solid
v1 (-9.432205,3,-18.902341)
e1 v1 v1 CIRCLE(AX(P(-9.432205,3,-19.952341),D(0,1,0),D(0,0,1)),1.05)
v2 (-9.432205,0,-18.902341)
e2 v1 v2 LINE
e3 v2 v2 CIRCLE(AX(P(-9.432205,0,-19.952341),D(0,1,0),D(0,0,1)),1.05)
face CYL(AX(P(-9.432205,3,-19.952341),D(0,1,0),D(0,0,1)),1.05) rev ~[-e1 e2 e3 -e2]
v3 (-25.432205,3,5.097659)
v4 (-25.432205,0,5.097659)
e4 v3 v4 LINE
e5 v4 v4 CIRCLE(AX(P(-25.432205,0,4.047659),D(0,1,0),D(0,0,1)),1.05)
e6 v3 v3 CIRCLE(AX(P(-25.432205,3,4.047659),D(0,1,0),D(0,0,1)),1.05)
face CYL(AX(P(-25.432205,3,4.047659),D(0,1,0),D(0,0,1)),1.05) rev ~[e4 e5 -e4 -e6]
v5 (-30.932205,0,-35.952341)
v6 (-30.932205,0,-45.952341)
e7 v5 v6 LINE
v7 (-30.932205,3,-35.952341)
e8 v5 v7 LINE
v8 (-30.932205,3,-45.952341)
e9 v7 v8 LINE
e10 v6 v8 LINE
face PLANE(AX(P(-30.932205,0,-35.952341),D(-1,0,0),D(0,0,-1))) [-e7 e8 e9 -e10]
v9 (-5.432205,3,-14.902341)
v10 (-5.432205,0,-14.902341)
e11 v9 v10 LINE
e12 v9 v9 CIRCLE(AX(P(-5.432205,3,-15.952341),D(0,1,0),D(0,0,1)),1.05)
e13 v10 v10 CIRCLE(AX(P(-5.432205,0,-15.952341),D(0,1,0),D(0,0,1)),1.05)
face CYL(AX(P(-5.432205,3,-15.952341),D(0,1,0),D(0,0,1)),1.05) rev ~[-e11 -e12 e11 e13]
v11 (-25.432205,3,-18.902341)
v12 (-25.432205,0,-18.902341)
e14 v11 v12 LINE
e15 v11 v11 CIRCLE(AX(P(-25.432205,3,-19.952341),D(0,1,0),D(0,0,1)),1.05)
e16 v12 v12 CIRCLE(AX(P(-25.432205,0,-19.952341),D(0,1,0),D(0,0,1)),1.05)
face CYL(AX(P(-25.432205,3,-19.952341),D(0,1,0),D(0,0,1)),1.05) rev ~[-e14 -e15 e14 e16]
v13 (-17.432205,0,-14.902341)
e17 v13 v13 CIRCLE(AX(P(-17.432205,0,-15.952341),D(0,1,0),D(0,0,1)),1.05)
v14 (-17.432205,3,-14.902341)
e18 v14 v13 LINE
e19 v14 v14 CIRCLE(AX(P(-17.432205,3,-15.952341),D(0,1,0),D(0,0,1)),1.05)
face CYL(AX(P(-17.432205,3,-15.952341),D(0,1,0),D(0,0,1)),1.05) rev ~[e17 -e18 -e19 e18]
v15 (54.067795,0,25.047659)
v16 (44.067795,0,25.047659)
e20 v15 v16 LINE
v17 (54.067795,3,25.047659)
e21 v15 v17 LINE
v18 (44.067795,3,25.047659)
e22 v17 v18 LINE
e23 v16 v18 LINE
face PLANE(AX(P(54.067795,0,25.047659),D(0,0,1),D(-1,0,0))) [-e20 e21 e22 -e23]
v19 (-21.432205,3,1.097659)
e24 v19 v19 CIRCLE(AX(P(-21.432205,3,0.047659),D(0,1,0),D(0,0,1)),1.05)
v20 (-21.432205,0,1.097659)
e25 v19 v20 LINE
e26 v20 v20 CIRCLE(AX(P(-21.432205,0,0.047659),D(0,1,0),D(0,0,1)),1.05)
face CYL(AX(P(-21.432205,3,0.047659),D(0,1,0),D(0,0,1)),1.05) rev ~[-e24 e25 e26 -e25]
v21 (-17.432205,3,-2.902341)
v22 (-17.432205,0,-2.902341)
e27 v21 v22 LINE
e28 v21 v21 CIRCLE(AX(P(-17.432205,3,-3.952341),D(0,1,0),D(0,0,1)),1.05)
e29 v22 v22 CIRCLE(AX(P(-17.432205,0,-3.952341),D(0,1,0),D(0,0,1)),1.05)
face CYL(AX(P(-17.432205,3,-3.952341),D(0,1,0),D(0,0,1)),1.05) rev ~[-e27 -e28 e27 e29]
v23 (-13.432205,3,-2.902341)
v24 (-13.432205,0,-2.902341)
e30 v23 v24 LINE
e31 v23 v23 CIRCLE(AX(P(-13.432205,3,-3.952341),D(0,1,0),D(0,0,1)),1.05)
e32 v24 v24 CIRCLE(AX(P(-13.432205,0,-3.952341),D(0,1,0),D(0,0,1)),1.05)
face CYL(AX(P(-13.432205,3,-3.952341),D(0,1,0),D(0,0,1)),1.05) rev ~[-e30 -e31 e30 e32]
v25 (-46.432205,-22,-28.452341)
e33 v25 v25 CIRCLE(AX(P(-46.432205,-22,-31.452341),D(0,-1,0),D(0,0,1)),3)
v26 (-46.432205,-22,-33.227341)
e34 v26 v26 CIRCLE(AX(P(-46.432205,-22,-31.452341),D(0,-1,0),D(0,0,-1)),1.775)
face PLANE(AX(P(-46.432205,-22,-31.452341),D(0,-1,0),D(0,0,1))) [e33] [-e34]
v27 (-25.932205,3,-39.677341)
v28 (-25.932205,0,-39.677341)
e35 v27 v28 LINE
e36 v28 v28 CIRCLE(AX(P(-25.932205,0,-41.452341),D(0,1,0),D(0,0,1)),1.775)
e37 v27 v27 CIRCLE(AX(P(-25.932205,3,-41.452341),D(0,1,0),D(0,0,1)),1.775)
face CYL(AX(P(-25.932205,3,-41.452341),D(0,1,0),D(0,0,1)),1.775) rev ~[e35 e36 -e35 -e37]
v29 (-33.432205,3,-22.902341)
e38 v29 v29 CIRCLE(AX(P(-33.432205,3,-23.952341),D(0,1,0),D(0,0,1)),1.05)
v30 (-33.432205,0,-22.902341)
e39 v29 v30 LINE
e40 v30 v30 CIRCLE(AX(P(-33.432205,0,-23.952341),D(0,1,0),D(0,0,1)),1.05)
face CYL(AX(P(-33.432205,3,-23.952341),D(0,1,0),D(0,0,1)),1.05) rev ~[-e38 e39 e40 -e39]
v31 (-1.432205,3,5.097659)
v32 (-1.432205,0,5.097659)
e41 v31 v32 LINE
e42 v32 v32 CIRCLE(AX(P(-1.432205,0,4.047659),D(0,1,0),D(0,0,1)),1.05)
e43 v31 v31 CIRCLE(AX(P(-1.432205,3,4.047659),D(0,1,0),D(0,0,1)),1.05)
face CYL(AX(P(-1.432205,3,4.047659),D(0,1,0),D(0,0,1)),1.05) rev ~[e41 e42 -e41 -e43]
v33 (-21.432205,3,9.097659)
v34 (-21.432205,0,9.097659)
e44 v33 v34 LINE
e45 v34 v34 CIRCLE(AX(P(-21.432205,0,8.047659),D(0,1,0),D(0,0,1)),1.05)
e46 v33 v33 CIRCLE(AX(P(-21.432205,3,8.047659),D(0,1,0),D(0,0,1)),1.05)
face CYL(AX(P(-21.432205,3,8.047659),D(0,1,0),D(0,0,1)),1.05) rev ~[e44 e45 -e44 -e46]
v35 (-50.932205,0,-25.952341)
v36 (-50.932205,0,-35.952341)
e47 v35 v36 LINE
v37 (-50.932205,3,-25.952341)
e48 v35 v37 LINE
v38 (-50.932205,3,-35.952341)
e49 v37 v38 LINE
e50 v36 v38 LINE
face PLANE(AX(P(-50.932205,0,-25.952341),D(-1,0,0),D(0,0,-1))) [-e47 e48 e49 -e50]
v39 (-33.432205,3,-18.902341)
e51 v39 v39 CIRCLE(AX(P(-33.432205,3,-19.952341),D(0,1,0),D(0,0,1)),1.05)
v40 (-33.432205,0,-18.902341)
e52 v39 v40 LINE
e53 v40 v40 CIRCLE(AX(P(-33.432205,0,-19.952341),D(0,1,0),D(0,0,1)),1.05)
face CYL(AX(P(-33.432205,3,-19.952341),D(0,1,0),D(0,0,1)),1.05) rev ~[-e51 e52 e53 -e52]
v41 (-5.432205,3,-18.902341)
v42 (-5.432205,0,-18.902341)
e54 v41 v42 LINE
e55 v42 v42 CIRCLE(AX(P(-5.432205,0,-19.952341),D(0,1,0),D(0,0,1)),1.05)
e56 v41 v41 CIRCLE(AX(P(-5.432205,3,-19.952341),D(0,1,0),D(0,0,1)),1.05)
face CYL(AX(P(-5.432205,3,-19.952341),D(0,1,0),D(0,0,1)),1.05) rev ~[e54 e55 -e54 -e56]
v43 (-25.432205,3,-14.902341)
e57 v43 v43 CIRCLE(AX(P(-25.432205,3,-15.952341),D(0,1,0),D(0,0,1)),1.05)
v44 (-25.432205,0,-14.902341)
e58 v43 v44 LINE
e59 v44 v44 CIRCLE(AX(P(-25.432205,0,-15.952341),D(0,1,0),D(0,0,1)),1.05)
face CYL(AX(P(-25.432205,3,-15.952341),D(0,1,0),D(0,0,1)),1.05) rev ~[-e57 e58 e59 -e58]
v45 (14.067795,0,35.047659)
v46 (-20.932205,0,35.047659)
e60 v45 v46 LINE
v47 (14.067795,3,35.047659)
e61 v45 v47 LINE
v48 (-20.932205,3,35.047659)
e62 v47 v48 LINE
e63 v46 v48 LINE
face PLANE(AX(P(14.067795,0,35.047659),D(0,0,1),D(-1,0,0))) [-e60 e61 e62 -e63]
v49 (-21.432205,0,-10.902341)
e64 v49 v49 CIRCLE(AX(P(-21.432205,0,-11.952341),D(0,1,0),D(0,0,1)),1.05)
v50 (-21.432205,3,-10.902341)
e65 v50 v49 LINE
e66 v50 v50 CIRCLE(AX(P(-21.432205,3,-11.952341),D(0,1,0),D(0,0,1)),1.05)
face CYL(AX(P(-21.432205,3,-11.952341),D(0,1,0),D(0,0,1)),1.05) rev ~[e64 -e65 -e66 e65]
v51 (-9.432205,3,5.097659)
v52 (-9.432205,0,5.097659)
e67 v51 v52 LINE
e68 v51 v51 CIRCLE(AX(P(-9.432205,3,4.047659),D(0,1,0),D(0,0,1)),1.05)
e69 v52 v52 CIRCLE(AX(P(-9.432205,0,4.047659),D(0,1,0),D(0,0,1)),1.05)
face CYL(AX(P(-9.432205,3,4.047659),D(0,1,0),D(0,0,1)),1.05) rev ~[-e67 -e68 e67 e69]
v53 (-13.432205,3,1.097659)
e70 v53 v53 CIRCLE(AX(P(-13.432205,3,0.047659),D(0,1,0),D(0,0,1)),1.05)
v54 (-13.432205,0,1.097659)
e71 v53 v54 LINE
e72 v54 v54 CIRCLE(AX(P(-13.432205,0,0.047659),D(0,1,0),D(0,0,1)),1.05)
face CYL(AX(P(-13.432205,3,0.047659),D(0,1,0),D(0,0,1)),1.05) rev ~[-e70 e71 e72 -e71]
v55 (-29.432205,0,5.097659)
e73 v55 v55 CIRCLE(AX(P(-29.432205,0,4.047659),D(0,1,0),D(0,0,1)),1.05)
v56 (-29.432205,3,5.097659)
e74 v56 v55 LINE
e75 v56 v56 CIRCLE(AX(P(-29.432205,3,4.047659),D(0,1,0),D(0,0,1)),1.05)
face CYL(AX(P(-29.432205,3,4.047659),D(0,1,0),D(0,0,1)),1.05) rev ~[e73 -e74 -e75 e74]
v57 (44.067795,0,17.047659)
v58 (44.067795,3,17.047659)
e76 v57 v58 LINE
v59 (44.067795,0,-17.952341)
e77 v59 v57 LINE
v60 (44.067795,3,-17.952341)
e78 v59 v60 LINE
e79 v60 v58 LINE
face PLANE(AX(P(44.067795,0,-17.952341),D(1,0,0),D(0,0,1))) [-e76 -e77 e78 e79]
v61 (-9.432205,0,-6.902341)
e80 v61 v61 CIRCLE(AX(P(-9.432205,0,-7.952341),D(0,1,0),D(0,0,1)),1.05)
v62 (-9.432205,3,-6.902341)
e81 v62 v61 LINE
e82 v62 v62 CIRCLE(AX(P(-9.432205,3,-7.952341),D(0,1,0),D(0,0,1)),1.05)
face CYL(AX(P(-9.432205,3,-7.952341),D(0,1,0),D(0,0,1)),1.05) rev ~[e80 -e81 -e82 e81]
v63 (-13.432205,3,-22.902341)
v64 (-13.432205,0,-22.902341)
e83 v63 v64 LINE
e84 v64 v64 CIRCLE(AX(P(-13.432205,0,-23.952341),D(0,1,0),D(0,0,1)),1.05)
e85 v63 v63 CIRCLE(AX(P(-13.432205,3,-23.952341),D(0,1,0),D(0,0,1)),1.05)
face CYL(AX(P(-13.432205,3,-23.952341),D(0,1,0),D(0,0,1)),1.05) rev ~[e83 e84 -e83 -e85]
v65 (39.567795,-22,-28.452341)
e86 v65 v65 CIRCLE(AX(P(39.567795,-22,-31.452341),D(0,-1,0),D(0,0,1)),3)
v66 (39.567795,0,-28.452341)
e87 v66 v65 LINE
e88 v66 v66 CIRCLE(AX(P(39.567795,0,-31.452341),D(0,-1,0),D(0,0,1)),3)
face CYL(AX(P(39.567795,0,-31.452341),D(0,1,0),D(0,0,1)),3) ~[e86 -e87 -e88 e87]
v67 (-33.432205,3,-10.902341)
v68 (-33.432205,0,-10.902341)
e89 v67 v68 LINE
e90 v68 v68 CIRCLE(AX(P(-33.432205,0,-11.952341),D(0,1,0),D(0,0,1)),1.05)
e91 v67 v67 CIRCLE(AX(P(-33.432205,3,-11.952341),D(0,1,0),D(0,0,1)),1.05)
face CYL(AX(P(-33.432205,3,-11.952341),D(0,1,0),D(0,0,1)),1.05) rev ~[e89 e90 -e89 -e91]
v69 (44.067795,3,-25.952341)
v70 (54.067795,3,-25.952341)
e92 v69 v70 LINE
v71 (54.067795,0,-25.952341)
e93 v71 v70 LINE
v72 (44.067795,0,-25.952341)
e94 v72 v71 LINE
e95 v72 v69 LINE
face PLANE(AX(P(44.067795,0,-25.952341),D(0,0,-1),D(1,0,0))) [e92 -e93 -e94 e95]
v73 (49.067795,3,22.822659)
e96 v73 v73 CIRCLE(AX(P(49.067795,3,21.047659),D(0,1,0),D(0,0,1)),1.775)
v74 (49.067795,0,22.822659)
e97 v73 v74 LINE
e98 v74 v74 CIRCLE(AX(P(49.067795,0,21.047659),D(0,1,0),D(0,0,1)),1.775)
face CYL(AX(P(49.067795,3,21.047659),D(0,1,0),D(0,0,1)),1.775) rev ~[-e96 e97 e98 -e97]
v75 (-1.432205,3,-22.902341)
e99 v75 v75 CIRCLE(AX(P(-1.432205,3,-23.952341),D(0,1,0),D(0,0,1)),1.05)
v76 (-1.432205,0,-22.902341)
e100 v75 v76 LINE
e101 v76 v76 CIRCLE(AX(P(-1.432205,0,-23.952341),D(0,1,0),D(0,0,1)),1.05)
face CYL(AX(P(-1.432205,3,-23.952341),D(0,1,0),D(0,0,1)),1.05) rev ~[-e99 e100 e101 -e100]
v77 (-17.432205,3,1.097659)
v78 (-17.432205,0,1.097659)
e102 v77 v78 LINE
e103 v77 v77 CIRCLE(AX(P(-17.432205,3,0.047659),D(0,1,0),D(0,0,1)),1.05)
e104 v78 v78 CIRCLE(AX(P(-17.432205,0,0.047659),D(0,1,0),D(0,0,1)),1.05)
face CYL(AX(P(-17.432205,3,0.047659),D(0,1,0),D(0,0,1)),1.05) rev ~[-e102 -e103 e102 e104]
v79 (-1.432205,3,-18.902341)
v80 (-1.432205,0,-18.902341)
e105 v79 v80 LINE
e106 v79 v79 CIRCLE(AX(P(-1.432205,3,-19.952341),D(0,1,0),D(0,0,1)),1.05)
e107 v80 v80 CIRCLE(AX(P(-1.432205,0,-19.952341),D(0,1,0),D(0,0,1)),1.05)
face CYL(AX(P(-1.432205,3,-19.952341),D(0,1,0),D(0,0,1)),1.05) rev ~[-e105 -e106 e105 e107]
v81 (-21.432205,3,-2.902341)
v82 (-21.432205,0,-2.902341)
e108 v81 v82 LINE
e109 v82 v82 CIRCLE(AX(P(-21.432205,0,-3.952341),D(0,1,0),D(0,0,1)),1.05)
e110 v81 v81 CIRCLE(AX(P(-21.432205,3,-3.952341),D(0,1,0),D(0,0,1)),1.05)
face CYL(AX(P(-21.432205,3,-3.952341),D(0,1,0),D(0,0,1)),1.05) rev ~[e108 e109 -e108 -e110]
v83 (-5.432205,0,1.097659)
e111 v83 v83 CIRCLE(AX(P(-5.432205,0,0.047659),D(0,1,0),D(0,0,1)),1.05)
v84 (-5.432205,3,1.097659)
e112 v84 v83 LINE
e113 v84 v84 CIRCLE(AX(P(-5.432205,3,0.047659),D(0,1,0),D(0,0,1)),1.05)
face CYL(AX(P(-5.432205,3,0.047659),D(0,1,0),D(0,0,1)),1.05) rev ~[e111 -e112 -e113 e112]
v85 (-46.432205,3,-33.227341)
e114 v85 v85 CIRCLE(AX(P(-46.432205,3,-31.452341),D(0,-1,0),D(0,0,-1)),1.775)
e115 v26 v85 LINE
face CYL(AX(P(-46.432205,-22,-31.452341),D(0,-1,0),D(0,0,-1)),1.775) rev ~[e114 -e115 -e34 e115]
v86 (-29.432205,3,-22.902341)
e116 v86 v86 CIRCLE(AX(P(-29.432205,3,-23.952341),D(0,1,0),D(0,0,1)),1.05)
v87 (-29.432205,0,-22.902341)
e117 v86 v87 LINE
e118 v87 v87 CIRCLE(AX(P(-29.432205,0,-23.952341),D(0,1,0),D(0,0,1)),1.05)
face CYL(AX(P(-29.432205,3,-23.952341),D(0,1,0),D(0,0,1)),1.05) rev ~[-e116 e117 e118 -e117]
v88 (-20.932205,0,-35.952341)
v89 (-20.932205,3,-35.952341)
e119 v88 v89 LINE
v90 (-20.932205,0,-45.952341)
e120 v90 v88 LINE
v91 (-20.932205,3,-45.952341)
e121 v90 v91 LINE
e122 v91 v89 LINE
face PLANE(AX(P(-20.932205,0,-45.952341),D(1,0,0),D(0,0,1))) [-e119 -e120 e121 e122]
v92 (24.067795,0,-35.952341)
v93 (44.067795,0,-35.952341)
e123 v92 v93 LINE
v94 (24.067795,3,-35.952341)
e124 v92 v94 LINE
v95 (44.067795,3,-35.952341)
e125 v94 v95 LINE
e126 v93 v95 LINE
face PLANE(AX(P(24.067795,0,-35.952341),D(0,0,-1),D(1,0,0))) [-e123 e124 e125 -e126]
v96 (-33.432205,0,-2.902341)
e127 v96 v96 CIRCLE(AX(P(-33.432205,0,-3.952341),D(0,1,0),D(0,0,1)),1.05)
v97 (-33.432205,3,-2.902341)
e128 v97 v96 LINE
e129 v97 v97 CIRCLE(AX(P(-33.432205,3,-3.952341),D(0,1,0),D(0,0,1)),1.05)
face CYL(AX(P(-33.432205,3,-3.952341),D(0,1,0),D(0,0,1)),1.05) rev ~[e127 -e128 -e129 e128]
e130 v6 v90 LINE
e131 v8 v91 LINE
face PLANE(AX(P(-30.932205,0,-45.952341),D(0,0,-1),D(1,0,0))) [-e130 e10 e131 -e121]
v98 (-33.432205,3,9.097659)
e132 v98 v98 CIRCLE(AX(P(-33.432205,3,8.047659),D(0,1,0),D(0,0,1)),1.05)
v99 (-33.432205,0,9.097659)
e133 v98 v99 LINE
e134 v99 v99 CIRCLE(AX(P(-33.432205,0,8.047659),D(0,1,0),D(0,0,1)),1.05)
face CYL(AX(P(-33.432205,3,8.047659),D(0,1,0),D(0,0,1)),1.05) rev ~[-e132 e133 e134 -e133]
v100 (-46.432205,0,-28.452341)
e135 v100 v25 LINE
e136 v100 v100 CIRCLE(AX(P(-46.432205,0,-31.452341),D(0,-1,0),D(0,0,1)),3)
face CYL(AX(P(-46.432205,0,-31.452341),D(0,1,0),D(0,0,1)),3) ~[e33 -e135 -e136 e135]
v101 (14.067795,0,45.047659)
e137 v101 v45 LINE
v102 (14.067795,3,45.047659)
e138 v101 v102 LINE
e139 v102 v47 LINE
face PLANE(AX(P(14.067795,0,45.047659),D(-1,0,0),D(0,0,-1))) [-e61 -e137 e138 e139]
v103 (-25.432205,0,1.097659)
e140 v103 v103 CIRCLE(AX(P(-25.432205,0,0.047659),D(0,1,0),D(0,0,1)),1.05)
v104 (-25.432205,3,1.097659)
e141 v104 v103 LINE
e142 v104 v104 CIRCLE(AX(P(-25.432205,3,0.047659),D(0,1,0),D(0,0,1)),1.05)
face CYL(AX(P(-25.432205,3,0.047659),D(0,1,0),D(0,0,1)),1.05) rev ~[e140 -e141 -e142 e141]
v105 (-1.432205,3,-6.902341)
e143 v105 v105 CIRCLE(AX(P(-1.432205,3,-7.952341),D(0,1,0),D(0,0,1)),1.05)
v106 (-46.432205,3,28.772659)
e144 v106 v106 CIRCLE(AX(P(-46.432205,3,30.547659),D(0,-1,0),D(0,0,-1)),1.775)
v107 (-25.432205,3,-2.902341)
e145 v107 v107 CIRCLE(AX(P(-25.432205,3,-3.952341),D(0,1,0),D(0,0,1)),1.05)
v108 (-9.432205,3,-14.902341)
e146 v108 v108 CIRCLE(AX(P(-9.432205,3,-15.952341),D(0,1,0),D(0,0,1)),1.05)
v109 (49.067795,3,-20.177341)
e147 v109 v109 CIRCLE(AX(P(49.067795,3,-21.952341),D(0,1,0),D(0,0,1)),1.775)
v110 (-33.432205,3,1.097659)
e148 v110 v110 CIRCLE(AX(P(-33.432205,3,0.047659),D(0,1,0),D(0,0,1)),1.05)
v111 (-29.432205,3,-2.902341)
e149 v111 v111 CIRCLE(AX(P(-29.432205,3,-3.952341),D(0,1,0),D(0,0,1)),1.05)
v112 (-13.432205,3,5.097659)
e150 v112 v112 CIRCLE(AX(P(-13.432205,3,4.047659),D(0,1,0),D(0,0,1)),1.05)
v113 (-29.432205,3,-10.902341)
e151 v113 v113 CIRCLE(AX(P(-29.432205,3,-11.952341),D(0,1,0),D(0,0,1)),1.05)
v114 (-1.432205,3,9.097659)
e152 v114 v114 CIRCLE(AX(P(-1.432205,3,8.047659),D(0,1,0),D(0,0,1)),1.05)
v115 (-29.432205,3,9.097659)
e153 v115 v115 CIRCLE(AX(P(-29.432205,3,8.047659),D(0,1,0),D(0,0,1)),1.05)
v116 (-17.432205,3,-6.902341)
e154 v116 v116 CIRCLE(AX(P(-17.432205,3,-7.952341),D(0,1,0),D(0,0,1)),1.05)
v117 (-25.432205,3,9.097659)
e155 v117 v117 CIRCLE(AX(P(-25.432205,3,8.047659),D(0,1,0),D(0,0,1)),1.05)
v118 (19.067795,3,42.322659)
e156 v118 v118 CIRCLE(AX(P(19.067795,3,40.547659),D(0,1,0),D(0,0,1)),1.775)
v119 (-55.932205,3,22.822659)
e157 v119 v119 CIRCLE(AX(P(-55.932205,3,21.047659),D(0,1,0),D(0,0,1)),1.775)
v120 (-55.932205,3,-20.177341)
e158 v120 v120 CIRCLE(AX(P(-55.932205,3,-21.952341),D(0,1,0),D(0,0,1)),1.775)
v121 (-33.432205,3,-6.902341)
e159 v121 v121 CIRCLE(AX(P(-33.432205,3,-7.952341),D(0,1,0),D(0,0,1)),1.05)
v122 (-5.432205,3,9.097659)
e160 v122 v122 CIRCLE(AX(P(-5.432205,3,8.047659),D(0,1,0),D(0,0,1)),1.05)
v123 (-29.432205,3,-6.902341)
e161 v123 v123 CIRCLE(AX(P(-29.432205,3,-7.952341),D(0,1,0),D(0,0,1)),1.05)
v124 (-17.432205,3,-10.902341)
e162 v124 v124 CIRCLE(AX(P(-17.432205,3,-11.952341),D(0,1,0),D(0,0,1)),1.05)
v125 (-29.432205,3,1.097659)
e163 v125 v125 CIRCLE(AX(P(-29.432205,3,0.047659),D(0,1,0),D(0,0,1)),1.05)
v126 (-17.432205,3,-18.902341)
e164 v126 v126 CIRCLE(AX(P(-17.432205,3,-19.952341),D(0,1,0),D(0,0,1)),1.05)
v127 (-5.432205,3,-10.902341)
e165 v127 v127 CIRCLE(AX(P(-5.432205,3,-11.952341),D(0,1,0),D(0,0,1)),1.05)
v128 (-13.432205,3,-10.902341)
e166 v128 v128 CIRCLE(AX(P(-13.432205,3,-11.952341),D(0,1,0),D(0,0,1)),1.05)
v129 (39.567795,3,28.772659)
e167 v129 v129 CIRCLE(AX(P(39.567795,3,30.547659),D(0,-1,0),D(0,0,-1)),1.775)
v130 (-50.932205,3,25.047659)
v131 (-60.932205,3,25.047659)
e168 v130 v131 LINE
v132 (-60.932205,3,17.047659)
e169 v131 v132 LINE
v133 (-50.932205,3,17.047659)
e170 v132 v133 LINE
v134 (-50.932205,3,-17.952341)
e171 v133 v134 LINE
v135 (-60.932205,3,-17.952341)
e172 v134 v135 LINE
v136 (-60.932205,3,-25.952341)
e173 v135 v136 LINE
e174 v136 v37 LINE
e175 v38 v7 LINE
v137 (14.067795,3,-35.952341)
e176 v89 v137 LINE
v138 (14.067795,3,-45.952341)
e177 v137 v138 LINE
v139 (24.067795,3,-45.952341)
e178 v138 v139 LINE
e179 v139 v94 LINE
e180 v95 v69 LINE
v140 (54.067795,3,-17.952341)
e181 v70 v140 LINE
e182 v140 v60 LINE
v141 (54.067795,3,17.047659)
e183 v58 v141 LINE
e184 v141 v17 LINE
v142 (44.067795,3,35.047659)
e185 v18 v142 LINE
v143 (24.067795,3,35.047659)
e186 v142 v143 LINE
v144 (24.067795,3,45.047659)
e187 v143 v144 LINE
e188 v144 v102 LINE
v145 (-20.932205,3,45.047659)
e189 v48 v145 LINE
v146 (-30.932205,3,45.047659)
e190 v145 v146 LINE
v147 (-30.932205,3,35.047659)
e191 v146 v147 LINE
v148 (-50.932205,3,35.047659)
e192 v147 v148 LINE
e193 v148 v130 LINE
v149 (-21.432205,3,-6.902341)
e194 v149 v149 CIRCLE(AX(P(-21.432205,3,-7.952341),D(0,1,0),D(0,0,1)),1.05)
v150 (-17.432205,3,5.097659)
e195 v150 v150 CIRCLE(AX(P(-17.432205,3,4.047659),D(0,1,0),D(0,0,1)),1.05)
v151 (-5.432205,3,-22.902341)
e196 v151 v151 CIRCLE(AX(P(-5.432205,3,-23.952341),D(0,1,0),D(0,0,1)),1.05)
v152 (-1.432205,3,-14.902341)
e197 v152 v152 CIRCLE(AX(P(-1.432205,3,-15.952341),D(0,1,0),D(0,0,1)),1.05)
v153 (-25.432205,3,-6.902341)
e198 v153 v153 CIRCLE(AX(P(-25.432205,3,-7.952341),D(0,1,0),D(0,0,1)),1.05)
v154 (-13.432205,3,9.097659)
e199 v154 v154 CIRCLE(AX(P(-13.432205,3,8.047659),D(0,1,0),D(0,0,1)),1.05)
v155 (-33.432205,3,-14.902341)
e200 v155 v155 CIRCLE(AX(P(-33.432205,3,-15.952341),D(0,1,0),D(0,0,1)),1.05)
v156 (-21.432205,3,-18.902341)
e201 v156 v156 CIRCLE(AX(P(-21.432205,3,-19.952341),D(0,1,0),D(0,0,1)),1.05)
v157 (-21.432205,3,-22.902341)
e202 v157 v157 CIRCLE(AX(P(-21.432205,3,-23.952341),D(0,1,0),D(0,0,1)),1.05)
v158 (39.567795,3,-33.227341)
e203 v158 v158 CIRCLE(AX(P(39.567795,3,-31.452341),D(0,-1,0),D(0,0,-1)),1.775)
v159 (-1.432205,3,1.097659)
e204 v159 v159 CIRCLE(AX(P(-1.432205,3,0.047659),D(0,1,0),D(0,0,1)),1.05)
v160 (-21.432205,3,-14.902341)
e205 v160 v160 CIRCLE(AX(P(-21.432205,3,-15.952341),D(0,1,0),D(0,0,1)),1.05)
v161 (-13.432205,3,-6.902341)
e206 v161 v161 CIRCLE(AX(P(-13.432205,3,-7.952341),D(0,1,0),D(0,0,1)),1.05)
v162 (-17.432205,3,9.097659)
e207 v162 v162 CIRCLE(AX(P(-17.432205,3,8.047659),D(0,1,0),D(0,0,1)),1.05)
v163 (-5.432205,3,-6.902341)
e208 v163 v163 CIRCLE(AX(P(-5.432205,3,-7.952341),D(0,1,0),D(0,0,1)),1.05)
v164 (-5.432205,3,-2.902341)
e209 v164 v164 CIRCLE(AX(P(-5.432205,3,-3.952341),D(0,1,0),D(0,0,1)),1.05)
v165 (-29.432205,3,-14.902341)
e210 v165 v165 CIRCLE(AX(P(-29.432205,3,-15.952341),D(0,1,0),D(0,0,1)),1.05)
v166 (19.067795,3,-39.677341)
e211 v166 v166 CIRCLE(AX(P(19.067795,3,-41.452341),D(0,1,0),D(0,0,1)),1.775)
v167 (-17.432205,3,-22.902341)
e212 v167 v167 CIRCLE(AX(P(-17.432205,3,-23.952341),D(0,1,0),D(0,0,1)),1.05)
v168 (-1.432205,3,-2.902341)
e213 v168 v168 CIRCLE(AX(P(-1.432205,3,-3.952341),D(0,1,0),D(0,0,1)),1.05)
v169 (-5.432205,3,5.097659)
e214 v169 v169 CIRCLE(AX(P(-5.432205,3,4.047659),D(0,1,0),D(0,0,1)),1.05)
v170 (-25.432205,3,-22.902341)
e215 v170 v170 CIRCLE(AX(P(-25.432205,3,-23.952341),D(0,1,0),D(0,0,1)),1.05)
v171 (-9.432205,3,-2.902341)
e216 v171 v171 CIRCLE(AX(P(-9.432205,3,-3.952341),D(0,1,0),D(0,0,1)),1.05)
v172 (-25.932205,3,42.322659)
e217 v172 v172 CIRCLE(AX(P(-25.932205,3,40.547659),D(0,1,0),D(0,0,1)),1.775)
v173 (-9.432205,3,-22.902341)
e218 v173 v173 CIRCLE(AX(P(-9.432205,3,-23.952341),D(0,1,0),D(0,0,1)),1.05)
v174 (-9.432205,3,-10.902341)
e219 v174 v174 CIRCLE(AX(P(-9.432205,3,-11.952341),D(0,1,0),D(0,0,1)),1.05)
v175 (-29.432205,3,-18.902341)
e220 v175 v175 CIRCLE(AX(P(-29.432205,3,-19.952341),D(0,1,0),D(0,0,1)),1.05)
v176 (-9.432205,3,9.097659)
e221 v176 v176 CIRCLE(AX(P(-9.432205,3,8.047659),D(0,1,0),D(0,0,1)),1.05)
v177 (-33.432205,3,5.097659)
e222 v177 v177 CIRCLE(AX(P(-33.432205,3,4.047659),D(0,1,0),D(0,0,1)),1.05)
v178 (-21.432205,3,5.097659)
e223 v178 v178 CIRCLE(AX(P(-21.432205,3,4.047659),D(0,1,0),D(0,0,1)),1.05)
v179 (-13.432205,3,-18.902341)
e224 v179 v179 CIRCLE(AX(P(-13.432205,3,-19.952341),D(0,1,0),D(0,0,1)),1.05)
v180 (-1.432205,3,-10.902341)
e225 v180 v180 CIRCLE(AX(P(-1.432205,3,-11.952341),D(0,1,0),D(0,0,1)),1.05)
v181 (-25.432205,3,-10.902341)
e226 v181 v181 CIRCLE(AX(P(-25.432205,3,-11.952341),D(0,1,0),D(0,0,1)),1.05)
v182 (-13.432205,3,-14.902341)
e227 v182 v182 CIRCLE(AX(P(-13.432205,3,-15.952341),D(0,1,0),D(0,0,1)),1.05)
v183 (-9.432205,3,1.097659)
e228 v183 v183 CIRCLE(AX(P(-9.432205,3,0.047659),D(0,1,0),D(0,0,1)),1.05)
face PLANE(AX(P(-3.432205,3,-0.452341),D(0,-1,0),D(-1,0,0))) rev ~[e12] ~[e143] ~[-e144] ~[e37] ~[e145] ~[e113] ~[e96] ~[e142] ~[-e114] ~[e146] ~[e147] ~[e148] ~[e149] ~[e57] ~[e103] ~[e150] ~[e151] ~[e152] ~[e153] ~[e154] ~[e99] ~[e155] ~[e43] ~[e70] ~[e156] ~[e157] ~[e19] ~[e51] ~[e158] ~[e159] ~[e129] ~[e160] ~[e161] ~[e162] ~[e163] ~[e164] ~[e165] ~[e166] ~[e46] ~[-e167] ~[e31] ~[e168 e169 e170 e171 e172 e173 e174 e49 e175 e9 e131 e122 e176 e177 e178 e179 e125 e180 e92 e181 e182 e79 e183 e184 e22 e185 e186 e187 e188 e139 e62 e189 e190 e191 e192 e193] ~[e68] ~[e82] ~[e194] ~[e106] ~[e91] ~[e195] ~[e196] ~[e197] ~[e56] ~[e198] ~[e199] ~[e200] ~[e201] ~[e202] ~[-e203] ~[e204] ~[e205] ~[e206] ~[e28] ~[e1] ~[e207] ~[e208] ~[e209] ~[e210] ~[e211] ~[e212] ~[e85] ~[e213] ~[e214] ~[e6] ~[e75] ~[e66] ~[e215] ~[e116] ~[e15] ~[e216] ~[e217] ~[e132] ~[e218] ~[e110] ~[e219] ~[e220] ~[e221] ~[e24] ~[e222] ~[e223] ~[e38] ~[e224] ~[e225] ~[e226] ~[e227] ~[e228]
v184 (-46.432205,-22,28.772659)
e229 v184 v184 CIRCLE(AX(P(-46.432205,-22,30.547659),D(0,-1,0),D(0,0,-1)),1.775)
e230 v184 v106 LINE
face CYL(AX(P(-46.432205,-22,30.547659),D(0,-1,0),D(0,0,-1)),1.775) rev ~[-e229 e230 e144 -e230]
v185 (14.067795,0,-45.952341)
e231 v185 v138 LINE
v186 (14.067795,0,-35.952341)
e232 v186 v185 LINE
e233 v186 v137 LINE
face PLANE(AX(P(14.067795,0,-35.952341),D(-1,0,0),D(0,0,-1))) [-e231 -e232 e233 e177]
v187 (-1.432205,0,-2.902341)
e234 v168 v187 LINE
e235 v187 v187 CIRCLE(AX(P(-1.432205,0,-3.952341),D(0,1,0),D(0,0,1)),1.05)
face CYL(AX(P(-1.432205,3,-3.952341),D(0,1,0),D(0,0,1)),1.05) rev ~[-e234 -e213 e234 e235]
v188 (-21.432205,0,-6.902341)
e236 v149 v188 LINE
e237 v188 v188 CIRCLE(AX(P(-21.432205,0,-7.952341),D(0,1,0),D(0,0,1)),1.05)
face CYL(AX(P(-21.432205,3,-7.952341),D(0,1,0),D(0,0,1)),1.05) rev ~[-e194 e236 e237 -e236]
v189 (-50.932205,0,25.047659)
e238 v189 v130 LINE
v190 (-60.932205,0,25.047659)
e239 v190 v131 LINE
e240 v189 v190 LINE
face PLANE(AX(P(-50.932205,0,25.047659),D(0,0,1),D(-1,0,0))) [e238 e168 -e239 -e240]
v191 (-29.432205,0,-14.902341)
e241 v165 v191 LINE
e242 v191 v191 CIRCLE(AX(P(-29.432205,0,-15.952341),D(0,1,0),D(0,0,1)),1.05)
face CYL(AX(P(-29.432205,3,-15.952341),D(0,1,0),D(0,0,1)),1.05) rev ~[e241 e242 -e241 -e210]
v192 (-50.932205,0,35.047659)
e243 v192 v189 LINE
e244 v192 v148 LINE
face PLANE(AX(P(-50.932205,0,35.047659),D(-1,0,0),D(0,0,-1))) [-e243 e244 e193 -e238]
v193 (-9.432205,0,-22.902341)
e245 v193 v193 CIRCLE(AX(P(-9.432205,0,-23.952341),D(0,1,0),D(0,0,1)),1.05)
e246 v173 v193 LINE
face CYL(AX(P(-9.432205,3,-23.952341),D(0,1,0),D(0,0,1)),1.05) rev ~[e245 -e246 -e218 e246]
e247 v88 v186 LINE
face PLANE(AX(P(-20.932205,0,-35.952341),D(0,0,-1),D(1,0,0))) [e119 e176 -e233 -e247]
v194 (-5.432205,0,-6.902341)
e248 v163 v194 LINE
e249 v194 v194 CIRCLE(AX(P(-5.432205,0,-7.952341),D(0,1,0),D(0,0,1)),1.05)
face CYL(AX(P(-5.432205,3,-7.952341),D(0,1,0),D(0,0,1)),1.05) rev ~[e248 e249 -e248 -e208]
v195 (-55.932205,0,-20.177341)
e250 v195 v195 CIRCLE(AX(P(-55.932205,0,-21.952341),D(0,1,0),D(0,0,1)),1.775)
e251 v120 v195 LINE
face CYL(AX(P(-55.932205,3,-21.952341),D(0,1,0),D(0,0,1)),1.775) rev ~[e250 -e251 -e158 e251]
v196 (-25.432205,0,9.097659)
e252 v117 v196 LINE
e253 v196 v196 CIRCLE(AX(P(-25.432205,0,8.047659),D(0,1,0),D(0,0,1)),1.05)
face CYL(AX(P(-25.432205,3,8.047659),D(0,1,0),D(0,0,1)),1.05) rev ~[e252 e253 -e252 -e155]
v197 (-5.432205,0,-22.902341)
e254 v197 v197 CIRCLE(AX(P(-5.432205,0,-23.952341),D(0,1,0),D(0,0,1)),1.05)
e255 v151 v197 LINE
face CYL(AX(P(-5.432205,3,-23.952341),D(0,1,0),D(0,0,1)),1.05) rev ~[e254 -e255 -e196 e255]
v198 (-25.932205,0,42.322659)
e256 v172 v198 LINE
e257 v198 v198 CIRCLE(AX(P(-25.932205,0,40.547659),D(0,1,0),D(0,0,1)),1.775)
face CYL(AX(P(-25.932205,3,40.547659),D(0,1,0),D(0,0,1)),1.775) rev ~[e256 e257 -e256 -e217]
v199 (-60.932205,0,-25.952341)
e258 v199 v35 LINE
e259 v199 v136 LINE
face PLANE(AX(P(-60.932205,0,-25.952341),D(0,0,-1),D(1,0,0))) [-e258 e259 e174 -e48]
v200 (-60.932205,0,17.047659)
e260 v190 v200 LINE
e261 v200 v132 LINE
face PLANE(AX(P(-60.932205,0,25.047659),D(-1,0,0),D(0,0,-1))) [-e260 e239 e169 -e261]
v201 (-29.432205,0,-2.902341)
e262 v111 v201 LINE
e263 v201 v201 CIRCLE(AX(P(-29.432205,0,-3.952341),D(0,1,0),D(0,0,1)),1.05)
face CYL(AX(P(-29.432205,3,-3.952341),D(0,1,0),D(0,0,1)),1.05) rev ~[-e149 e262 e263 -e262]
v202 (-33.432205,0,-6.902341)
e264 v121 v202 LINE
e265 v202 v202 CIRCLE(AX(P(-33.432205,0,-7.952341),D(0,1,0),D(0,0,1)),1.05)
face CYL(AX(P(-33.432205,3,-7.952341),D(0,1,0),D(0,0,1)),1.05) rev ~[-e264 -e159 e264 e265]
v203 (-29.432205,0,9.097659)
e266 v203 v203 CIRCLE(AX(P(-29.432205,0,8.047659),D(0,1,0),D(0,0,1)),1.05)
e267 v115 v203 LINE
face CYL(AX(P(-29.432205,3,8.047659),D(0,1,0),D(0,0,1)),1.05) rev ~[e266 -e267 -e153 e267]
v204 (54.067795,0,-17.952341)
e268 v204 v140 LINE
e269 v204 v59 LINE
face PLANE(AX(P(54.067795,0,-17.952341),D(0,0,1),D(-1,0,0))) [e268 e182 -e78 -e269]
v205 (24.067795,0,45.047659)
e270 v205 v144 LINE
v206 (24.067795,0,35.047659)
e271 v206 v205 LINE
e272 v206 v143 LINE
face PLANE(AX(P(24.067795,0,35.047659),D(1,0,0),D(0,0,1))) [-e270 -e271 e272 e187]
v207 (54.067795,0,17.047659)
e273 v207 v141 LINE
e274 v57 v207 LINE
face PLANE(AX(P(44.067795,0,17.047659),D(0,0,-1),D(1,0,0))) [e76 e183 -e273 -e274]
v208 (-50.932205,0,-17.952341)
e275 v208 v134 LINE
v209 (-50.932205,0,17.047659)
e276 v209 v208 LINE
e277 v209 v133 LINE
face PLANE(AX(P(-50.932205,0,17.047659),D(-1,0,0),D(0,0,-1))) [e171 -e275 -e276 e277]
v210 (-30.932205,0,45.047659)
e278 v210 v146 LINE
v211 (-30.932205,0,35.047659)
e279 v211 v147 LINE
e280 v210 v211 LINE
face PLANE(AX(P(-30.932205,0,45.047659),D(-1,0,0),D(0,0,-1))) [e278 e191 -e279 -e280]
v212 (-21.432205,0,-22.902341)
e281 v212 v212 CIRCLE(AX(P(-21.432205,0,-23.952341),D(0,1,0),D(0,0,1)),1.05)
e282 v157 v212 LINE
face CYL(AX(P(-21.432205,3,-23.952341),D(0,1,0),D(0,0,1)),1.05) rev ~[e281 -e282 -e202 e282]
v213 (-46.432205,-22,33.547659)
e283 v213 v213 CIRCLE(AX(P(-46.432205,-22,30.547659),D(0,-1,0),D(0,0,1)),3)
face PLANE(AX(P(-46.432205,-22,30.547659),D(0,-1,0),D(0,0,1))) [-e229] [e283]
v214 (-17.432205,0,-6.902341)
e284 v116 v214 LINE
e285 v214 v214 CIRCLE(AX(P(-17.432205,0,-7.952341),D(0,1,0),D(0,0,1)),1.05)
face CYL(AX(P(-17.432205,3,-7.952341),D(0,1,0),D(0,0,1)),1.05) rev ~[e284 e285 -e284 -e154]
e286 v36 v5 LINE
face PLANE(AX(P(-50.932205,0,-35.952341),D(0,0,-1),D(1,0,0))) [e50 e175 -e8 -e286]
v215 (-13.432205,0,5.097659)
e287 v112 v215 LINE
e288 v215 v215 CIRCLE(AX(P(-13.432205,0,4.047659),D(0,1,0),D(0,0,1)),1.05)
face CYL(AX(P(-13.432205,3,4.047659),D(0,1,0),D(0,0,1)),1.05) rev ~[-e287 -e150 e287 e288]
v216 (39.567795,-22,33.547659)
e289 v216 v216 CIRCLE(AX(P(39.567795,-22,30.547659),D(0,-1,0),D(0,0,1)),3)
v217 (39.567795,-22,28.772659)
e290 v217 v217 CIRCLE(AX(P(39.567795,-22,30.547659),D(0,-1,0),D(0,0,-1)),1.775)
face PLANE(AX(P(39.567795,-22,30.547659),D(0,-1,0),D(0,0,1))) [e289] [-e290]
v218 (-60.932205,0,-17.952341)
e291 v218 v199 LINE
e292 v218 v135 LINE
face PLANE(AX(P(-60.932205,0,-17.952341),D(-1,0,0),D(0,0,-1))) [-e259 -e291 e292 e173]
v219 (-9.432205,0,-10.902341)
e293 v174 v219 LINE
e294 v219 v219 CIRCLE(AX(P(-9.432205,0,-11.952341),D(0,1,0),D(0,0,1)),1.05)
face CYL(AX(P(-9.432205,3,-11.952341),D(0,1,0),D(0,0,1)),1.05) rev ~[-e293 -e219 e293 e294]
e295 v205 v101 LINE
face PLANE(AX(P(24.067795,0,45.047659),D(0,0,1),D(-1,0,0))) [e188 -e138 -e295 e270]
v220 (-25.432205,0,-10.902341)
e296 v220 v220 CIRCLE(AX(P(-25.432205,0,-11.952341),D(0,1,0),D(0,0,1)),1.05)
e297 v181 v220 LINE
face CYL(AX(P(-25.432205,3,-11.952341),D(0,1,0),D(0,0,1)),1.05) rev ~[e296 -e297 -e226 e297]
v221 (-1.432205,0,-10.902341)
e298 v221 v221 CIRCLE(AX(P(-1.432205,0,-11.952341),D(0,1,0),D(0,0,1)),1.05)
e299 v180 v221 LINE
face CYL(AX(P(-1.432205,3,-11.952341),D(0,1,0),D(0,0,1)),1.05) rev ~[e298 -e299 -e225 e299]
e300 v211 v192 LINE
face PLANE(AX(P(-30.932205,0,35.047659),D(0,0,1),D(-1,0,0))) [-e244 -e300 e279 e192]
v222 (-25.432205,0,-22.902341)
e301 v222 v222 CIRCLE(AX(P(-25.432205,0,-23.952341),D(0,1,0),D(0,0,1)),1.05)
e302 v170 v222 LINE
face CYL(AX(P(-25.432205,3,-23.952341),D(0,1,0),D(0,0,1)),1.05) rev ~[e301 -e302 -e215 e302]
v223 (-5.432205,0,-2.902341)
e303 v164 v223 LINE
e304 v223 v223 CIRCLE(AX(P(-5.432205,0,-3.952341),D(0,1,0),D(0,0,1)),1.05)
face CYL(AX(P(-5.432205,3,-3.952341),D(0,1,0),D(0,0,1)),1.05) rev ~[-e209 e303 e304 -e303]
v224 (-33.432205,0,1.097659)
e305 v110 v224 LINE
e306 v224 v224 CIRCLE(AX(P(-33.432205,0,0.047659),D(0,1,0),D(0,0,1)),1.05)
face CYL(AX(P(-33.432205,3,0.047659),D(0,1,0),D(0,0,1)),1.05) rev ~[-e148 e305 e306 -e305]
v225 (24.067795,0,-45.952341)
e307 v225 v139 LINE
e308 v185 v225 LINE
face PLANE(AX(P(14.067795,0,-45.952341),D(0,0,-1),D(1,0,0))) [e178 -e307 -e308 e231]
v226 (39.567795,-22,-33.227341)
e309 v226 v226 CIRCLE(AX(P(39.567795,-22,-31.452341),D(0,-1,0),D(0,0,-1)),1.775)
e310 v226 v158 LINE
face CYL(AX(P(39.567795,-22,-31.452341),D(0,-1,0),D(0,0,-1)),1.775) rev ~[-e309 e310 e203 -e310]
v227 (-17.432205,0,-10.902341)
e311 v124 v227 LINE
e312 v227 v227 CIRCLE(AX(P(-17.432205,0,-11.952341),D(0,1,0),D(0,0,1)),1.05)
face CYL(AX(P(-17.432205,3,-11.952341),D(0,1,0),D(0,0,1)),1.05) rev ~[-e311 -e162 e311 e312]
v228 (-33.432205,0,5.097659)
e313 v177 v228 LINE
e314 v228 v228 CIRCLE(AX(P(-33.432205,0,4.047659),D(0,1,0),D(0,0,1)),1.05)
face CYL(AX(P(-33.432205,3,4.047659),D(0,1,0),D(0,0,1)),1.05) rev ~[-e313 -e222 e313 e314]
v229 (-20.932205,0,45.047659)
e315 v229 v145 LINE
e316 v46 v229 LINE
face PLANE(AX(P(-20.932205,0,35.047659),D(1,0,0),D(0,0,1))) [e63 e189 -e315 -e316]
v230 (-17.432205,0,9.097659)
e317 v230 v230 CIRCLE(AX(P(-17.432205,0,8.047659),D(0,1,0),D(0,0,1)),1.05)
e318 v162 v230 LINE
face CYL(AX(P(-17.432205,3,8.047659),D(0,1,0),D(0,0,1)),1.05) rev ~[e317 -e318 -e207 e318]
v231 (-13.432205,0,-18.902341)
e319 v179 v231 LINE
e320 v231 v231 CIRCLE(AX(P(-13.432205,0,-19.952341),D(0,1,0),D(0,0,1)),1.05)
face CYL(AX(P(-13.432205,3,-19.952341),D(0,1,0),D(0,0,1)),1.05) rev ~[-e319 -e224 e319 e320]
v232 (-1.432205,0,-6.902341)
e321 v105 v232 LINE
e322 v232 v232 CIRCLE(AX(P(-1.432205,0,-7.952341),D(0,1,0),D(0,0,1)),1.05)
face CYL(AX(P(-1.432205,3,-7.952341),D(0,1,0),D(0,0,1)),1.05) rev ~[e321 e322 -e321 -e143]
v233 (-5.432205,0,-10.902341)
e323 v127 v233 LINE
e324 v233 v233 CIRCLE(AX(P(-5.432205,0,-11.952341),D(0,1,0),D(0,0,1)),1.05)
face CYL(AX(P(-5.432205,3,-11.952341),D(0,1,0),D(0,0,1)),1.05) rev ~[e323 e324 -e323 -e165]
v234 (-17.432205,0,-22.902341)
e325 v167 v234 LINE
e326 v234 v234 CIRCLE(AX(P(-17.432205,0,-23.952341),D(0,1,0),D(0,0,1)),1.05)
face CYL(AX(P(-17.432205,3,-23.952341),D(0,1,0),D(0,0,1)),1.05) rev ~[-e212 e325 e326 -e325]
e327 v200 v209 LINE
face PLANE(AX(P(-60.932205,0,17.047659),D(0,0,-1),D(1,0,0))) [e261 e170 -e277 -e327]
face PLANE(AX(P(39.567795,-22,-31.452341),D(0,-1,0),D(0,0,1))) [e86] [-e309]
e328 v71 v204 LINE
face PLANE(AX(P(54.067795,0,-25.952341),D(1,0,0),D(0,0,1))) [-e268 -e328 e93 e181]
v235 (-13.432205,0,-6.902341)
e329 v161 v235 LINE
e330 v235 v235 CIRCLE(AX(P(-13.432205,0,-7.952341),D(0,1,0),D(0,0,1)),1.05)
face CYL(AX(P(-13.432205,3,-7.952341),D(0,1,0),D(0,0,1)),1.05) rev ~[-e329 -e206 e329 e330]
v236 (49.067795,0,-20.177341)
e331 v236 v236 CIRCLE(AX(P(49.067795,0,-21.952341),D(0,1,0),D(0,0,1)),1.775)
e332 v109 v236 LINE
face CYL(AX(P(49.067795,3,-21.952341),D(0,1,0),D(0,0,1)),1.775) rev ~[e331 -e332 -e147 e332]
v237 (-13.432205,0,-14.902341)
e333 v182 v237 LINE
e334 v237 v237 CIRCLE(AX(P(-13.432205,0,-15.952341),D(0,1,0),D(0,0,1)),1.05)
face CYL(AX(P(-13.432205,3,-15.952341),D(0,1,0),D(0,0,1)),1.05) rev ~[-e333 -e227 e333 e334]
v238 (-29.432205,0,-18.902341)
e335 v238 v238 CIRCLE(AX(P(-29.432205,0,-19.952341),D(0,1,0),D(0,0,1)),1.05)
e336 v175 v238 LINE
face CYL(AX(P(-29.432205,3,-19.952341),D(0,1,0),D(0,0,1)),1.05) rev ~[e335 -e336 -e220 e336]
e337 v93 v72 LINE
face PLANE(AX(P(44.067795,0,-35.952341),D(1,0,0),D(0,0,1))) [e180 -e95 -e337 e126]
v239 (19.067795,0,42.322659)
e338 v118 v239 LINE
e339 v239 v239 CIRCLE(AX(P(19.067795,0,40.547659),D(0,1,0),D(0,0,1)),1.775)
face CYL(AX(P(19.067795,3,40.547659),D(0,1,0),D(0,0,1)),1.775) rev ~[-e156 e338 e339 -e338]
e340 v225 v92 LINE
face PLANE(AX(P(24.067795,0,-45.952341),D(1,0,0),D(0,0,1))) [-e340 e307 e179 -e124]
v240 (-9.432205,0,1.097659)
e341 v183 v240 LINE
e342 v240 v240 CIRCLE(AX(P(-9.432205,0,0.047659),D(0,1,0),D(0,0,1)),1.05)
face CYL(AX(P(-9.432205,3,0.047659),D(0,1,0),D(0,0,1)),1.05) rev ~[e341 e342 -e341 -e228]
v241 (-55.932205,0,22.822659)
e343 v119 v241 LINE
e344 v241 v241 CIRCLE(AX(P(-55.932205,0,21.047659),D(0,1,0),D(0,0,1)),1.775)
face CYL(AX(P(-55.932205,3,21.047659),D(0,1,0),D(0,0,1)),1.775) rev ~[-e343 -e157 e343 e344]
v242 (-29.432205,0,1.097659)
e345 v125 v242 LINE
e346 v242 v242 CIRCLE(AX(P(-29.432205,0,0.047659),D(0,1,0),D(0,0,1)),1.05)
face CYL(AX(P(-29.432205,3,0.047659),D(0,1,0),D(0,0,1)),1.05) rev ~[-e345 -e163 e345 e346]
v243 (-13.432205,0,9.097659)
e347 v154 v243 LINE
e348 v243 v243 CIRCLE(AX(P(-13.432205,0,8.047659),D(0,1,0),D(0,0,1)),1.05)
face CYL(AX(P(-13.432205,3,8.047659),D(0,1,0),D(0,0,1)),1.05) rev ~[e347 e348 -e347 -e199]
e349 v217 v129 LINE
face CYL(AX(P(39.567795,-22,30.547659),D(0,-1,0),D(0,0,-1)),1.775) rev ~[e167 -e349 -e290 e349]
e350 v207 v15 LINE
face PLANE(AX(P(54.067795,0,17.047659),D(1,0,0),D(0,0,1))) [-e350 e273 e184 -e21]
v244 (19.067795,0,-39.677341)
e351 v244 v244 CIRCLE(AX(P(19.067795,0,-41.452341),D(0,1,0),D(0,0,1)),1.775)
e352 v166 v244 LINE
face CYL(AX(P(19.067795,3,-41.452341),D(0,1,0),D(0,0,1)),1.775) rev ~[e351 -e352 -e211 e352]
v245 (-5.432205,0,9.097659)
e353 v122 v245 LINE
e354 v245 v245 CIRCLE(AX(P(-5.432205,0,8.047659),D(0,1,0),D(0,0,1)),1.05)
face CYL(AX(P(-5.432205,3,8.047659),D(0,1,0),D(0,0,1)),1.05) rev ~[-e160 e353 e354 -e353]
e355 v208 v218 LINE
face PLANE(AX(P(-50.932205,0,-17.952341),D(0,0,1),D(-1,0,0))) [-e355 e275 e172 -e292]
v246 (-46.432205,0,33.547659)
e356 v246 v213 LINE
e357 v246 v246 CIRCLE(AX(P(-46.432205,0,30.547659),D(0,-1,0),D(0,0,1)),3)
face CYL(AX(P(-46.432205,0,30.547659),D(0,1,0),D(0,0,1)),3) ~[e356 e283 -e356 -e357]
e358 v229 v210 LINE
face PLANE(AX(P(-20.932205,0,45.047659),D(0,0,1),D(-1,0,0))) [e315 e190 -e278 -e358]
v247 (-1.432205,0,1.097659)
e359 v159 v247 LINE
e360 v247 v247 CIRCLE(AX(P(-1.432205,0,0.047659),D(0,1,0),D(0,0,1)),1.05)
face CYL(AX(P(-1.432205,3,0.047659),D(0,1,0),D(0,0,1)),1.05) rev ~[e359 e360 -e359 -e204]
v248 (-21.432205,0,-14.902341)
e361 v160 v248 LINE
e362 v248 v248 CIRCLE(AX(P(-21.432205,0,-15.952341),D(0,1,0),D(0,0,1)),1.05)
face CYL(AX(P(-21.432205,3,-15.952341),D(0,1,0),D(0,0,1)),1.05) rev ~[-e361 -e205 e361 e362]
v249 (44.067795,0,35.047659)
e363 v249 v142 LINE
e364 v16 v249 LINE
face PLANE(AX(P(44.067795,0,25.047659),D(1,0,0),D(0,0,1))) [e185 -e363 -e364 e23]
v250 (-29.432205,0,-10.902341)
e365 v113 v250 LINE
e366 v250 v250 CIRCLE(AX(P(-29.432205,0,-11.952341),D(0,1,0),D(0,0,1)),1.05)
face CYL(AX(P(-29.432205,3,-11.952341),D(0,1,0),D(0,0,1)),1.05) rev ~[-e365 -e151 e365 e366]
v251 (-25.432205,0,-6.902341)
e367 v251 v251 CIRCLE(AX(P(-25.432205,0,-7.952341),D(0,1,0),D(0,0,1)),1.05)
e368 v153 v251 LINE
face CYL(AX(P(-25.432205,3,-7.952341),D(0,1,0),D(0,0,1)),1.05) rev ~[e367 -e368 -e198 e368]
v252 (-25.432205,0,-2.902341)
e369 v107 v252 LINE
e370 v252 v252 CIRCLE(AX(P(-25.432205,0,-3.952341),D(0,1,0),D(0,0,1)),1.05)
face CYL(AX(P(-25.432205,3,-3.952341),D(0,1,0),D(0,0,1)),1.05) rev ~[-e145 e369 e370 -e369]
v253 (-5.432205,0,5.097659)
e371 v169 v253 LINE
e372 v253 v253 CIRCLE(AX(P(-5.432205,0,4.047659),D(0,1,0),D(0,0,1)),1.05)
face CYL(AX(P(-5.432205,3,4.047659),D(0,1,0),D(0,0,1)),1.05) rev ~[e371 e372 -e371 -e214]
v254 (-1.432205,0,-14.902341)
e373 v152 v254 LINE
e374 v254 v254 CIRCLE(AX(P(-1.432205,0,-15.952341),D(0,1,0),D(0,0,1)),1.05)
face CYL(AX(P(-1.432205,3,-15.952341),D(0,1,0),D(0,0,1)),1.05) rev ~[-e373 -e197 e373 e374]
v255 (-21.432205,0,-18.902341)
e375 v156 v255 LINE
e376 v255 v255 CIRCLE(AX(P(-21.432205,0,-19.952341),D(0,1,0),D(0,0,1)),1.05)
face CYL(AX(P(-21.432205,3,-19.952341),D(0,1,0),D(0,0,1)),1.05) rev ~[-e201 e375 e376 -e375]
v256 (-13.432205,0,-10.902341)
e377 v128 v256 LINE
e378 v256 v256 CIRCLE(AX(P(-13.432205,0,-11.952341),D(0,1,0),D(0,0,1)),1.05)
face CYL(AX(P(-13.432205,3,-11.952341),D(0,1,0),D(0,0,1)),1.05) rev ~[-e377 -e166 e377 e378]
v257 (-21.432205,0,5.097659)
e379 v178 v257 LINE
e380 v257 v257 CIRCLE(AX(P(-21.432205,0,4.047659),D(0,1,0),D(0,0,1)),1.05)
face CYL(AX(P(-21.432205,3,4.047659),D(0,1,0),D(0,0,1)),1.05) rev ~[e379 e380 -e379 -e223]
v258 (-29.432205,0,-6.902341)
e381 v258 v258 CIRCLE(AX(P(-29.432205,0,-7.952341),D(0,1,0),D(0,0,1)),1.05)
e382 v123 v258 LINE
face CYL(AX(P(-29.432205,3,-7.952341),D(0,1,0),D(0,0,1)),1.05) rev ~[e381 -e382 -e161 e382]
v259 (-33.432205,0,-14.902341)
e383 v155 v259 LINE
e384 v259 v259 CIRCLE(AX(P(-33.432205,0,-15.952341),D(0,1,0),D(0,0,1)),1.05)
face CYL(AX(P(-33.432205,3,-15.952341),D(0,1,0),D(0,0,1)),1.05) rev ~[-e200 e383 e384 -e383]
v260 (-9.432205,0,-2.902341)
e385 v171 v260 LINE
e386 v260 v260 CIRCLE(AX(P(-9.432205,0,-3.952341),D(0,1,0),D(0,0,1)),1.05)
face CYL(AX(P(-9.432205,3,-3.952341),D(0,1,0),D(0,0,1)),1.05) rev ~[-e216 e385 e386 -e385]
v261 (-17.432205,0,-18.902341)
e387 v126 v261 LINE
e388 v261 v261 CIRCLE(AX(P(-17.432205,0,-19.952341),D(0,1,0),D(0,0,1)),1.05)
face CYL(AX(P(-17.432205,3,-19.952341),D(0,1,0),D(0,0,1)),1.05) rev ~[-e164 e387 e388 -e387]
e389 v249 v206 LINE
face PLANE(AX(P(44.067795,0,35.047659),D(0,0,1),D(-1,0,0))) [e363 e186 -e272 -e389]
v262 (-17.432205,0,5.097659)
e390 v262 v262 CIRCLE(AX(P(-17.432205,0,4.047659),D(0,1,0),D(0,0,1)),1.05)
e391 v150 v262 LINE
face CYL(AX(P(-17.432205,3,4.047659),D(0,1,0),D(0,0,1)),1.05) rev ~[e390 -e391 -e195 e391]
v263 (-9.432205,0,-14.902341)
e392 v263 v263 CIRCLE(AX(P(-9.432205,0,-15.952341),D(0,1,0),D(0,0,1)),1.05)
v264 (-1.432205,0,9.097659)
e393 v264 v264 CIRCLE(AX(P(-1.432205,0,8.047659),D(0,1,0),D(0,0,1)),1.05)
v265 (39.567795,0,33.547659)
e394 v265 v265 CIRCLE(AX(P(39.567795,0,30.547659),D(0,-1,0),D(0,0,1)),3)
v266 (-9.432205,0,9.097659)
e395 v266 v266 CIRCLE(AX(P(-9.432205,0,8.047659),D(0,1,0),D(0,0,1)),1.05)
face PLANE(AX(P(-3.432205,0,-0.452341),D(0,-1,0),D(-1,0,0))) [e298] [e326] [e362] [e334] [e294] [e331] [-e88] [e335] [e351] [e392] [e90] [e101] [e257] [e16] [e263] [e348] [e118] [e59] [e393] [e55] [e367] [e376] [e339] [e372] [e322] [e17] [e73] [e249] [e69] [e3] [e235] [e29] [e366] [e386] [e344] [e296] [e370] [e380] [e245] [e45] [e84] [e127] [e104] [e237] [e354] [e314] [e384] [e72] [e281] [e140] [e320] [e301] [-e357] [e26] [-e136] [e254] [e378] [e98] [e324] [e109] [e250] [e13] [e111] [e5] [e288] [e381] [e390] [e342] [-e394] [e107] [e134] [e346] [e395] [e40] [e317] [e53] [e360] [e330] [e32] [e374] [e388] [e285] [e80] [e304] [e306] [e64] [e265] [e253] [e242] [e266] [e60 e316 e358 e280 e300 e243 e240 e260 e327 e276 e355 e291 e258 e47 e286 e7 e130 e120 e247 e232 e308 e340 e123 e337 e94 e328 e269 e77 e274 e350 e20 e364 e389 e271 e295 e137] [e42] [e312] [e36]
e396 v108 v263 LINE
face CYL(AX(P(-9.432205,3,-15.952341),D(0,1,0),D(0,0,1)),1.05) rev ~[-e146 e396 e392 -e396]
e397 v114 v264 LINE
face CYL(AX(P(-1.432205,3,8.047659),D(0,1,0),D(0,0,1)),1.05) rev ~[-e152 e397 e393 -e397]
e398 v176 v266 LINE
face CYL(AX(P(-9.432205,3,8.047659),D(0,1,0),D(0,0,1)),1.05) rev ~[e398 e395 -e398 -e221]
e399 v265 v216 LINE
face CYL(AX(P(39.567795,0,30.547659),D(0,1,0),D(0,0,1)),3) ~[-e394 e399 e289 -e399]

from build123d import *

# Parameters (mm, degrees)
BOSS_EXTRUDE1_DEPTH  = 3
SKETCH2_R            = 3
BOSS_EXTRUDE2_DEPTH  = 22
SKETCH3_R            = 1.775
CUT_EXTRUDE1_DEPTH   = 81.307853189
SKETCH4_R            = 1.05
CUT_EXTRUDE2_DEPTH   = 81.307853189
LPATTERN1_COUNT      = 9
LPATTERN1_PITCH      = 4
LPATTERN1_COUNT_DIR2 = 9
LPATTERN1_PITCH_DIR2 = 4
SKETCH5_R            = 1.775
CUT_EXTRUDE3_DEPTH   = 81.307853189
SKETCH6_R            = 1.775
CUT_EXTRUDE4_DEPTH   = 81.307853189


with BuildPart() as part:
    # Sketch1 → Boss-Extrude1 (new body)
    with BuildSketch(Plane(origin=(0, 0, 0), x_dir=(1, 0, 0), z_dir=(0, 1, 0))):
        Polygon((-50.932204957, 25.952341431), (-50.932204957, 35.952341431), (-30.932204957, 35.952341431), (-30.932204957, 45.952341431), (-20.932204957, 45.952341431), (-20.932204957, 35.952341431), (14.067795043, 35.952341431), (14.067795043, 45.952341431), (24.067795043, 45.952341431), (24.067795043, 35.952341431), (44.067795043, 35.952341431), (44.067795043, 25.952341431), (54.067795043, 25.952341431), (54.067795043, 17.952341431), (44.067795043, 17.952341431), (44.067795043, -17.047658569), (54.067795043, -17.047658569), (54.067795043, -25.047658569), (44.067795043, -25.047658569), (44.067795043, -35.047658569), (24.067795043, -35.047658569), (24.067795043, -45.047658569), (14.067795043, -45.047658569), (14.067795043, -35.047658569), (-20.932204957, -35.047658569), (-20.932204957, -45.047658569), (-30.932204957, -45.047658569), (-30.932204957, -35.047658569), (-50.932204957, -35.047658569), (-50.932204957, -25.047658569), (-60.932204957, -25.047658569), (-60.932204957, -17.047658569), (-50.932204957, -17.047658569), (-50.932204957, 17.952341431), (-60.932204957, 17.952341431), (-60.932204957, 25.952341431), align=None)
    extrude(amount=BOSS_EXTRUDE1_DEPTH)

    # Sketch2 → Boss-Extrude2 (add)
    with BuildSketch(Plane.XZ):
        with Locations(Location((-46.432204957, 30.547658569, 0), (0, 0, 90))):
            Circle(SKETCH2_R)
        with Locations(Location((-46.432204957, -31.452341431, 0), (0, 0, 90))):
            Circle(SKETCH2_R)
        with Locations(Location((39.567795043, -31.452341431, 0), (0, 0, 90))):
            Circle(SKETCH2_R)
        with Locations(Location((39.567795043, 30.547658569, 0), (0, 0, 90))):
            Circle(SKETCH2_R)
    extrude(amount=BOSS_EXTRUDE2_DEPTH)

    # Sketch3 → Cut-Extrude1 (cut, through all)
    with BuildSketch(Plane.XZ.offset(22)):
        with Locations(Location((-46.432204957, 30.547658569, 0), (0, 0, 270))):
            Circle(SKETCH3_R)
        with Locations(Location((-46.432204957, -31.452341431, 0), (0, 0, 270))):
            Circle(SKETCH3_R)
        with Locations(Location((39.567795043, -31.452341431, 0), (0, 0, 270))):
            Circle(SKETCH3_R)
        with Locations(Location((39.567795043, 30.547658569, 0), (0, 0, 270))):
            Circle(SKETCH3_R)
    extrude(amount=-CUT_EXTRUDE1_DEPTH, mode=Mode.SUBTRACT)

    # Sketch4 → Cut-Extrude2 (cut, through all)
    with BuildSketch(Plane(origin=(0, 3, 0), x_dir=(1, 0, 0), z_dir=(0, 1, 0))):
        with Locations(Location((-33.432204957, 23.952341431, 0), (0, 0, 270))):
            Circle(SKETCH4_R)
    cut_extrude2 = extrude(amount=-CUT_EXTRUDE2_DEPTH, mode=Mode.SUBTRACT)

    # LPattern1: Cut-Extrude2 9 × 9
    with Locations(*[(i * LPATTERN1_PITCH, 0, j * LPATTERN1_PITCH_DIR2) for i in range(LPATTERN1_COUNT) for j in range(LPATTERN1_COUNT_DIR2) if (i, j) != (0, 0)]):
        add(cut_extrude2, mode=Mode.SUBTRACT)

    # Sketch5 → Cut-Extrude3 (cut, through all)
    with BuildSketch(Plane(origin=(0, 3, 0), x_dir=(1, 0, 0), z_dir=(0, 1, 0))):
        with Locations(Location((-55.932204957, -21.047658569, 0), (0, 0, 270))):
            Circle(SKETCH5_R)
        with Locations(Location((-55.932204957, 21.952341431, 0), (0, 0, 270))):
            Circle(SKETCH5_R)
        with Locations(Location((49.067795043, 21.952341431, 0), (0, 0, 270))):
            Circle(SKETCH5_R)
        with Locations(Location((49.067795043, -21.047658569, 0), (0, 0, 270))):
            Circle(SKETCH5_R)
    extrude(amount=-CUT_EXTRUDE3_DEPTH, mode=Mode.SUBTRACT)

    # Sketch6 → Cut-Extrude4 (cut, through all)
    with BuildSketch(Plane(origin=(0, 3, 0), x_dir=(1, 0, 0), z_dir=(0, 1, 0))):
        with Locations(Location((-25.932204957, 41.452341431, 0), (0, 0, 270))):
            Circle(SKETCH6_R)
        with Locations(Location((19.067795043, 41.452341431, 0), (0, 0, 270))):
            Circle(SKETCH6_R)
        with Locations(Location((-25.932204957, -40.547658569, 0), (0, 0, 270))):
            Circle(SKETCH6_R)
        with Locations(Location((19.067795043, -40.547658569, 0), (0, 0, 270))):
            Circle(SKETCH6_R)
    extrude(amount=-CUT_EXTRUDE4_DEPTH, mode=Mode.SUBTRACT)


solid = part.part
